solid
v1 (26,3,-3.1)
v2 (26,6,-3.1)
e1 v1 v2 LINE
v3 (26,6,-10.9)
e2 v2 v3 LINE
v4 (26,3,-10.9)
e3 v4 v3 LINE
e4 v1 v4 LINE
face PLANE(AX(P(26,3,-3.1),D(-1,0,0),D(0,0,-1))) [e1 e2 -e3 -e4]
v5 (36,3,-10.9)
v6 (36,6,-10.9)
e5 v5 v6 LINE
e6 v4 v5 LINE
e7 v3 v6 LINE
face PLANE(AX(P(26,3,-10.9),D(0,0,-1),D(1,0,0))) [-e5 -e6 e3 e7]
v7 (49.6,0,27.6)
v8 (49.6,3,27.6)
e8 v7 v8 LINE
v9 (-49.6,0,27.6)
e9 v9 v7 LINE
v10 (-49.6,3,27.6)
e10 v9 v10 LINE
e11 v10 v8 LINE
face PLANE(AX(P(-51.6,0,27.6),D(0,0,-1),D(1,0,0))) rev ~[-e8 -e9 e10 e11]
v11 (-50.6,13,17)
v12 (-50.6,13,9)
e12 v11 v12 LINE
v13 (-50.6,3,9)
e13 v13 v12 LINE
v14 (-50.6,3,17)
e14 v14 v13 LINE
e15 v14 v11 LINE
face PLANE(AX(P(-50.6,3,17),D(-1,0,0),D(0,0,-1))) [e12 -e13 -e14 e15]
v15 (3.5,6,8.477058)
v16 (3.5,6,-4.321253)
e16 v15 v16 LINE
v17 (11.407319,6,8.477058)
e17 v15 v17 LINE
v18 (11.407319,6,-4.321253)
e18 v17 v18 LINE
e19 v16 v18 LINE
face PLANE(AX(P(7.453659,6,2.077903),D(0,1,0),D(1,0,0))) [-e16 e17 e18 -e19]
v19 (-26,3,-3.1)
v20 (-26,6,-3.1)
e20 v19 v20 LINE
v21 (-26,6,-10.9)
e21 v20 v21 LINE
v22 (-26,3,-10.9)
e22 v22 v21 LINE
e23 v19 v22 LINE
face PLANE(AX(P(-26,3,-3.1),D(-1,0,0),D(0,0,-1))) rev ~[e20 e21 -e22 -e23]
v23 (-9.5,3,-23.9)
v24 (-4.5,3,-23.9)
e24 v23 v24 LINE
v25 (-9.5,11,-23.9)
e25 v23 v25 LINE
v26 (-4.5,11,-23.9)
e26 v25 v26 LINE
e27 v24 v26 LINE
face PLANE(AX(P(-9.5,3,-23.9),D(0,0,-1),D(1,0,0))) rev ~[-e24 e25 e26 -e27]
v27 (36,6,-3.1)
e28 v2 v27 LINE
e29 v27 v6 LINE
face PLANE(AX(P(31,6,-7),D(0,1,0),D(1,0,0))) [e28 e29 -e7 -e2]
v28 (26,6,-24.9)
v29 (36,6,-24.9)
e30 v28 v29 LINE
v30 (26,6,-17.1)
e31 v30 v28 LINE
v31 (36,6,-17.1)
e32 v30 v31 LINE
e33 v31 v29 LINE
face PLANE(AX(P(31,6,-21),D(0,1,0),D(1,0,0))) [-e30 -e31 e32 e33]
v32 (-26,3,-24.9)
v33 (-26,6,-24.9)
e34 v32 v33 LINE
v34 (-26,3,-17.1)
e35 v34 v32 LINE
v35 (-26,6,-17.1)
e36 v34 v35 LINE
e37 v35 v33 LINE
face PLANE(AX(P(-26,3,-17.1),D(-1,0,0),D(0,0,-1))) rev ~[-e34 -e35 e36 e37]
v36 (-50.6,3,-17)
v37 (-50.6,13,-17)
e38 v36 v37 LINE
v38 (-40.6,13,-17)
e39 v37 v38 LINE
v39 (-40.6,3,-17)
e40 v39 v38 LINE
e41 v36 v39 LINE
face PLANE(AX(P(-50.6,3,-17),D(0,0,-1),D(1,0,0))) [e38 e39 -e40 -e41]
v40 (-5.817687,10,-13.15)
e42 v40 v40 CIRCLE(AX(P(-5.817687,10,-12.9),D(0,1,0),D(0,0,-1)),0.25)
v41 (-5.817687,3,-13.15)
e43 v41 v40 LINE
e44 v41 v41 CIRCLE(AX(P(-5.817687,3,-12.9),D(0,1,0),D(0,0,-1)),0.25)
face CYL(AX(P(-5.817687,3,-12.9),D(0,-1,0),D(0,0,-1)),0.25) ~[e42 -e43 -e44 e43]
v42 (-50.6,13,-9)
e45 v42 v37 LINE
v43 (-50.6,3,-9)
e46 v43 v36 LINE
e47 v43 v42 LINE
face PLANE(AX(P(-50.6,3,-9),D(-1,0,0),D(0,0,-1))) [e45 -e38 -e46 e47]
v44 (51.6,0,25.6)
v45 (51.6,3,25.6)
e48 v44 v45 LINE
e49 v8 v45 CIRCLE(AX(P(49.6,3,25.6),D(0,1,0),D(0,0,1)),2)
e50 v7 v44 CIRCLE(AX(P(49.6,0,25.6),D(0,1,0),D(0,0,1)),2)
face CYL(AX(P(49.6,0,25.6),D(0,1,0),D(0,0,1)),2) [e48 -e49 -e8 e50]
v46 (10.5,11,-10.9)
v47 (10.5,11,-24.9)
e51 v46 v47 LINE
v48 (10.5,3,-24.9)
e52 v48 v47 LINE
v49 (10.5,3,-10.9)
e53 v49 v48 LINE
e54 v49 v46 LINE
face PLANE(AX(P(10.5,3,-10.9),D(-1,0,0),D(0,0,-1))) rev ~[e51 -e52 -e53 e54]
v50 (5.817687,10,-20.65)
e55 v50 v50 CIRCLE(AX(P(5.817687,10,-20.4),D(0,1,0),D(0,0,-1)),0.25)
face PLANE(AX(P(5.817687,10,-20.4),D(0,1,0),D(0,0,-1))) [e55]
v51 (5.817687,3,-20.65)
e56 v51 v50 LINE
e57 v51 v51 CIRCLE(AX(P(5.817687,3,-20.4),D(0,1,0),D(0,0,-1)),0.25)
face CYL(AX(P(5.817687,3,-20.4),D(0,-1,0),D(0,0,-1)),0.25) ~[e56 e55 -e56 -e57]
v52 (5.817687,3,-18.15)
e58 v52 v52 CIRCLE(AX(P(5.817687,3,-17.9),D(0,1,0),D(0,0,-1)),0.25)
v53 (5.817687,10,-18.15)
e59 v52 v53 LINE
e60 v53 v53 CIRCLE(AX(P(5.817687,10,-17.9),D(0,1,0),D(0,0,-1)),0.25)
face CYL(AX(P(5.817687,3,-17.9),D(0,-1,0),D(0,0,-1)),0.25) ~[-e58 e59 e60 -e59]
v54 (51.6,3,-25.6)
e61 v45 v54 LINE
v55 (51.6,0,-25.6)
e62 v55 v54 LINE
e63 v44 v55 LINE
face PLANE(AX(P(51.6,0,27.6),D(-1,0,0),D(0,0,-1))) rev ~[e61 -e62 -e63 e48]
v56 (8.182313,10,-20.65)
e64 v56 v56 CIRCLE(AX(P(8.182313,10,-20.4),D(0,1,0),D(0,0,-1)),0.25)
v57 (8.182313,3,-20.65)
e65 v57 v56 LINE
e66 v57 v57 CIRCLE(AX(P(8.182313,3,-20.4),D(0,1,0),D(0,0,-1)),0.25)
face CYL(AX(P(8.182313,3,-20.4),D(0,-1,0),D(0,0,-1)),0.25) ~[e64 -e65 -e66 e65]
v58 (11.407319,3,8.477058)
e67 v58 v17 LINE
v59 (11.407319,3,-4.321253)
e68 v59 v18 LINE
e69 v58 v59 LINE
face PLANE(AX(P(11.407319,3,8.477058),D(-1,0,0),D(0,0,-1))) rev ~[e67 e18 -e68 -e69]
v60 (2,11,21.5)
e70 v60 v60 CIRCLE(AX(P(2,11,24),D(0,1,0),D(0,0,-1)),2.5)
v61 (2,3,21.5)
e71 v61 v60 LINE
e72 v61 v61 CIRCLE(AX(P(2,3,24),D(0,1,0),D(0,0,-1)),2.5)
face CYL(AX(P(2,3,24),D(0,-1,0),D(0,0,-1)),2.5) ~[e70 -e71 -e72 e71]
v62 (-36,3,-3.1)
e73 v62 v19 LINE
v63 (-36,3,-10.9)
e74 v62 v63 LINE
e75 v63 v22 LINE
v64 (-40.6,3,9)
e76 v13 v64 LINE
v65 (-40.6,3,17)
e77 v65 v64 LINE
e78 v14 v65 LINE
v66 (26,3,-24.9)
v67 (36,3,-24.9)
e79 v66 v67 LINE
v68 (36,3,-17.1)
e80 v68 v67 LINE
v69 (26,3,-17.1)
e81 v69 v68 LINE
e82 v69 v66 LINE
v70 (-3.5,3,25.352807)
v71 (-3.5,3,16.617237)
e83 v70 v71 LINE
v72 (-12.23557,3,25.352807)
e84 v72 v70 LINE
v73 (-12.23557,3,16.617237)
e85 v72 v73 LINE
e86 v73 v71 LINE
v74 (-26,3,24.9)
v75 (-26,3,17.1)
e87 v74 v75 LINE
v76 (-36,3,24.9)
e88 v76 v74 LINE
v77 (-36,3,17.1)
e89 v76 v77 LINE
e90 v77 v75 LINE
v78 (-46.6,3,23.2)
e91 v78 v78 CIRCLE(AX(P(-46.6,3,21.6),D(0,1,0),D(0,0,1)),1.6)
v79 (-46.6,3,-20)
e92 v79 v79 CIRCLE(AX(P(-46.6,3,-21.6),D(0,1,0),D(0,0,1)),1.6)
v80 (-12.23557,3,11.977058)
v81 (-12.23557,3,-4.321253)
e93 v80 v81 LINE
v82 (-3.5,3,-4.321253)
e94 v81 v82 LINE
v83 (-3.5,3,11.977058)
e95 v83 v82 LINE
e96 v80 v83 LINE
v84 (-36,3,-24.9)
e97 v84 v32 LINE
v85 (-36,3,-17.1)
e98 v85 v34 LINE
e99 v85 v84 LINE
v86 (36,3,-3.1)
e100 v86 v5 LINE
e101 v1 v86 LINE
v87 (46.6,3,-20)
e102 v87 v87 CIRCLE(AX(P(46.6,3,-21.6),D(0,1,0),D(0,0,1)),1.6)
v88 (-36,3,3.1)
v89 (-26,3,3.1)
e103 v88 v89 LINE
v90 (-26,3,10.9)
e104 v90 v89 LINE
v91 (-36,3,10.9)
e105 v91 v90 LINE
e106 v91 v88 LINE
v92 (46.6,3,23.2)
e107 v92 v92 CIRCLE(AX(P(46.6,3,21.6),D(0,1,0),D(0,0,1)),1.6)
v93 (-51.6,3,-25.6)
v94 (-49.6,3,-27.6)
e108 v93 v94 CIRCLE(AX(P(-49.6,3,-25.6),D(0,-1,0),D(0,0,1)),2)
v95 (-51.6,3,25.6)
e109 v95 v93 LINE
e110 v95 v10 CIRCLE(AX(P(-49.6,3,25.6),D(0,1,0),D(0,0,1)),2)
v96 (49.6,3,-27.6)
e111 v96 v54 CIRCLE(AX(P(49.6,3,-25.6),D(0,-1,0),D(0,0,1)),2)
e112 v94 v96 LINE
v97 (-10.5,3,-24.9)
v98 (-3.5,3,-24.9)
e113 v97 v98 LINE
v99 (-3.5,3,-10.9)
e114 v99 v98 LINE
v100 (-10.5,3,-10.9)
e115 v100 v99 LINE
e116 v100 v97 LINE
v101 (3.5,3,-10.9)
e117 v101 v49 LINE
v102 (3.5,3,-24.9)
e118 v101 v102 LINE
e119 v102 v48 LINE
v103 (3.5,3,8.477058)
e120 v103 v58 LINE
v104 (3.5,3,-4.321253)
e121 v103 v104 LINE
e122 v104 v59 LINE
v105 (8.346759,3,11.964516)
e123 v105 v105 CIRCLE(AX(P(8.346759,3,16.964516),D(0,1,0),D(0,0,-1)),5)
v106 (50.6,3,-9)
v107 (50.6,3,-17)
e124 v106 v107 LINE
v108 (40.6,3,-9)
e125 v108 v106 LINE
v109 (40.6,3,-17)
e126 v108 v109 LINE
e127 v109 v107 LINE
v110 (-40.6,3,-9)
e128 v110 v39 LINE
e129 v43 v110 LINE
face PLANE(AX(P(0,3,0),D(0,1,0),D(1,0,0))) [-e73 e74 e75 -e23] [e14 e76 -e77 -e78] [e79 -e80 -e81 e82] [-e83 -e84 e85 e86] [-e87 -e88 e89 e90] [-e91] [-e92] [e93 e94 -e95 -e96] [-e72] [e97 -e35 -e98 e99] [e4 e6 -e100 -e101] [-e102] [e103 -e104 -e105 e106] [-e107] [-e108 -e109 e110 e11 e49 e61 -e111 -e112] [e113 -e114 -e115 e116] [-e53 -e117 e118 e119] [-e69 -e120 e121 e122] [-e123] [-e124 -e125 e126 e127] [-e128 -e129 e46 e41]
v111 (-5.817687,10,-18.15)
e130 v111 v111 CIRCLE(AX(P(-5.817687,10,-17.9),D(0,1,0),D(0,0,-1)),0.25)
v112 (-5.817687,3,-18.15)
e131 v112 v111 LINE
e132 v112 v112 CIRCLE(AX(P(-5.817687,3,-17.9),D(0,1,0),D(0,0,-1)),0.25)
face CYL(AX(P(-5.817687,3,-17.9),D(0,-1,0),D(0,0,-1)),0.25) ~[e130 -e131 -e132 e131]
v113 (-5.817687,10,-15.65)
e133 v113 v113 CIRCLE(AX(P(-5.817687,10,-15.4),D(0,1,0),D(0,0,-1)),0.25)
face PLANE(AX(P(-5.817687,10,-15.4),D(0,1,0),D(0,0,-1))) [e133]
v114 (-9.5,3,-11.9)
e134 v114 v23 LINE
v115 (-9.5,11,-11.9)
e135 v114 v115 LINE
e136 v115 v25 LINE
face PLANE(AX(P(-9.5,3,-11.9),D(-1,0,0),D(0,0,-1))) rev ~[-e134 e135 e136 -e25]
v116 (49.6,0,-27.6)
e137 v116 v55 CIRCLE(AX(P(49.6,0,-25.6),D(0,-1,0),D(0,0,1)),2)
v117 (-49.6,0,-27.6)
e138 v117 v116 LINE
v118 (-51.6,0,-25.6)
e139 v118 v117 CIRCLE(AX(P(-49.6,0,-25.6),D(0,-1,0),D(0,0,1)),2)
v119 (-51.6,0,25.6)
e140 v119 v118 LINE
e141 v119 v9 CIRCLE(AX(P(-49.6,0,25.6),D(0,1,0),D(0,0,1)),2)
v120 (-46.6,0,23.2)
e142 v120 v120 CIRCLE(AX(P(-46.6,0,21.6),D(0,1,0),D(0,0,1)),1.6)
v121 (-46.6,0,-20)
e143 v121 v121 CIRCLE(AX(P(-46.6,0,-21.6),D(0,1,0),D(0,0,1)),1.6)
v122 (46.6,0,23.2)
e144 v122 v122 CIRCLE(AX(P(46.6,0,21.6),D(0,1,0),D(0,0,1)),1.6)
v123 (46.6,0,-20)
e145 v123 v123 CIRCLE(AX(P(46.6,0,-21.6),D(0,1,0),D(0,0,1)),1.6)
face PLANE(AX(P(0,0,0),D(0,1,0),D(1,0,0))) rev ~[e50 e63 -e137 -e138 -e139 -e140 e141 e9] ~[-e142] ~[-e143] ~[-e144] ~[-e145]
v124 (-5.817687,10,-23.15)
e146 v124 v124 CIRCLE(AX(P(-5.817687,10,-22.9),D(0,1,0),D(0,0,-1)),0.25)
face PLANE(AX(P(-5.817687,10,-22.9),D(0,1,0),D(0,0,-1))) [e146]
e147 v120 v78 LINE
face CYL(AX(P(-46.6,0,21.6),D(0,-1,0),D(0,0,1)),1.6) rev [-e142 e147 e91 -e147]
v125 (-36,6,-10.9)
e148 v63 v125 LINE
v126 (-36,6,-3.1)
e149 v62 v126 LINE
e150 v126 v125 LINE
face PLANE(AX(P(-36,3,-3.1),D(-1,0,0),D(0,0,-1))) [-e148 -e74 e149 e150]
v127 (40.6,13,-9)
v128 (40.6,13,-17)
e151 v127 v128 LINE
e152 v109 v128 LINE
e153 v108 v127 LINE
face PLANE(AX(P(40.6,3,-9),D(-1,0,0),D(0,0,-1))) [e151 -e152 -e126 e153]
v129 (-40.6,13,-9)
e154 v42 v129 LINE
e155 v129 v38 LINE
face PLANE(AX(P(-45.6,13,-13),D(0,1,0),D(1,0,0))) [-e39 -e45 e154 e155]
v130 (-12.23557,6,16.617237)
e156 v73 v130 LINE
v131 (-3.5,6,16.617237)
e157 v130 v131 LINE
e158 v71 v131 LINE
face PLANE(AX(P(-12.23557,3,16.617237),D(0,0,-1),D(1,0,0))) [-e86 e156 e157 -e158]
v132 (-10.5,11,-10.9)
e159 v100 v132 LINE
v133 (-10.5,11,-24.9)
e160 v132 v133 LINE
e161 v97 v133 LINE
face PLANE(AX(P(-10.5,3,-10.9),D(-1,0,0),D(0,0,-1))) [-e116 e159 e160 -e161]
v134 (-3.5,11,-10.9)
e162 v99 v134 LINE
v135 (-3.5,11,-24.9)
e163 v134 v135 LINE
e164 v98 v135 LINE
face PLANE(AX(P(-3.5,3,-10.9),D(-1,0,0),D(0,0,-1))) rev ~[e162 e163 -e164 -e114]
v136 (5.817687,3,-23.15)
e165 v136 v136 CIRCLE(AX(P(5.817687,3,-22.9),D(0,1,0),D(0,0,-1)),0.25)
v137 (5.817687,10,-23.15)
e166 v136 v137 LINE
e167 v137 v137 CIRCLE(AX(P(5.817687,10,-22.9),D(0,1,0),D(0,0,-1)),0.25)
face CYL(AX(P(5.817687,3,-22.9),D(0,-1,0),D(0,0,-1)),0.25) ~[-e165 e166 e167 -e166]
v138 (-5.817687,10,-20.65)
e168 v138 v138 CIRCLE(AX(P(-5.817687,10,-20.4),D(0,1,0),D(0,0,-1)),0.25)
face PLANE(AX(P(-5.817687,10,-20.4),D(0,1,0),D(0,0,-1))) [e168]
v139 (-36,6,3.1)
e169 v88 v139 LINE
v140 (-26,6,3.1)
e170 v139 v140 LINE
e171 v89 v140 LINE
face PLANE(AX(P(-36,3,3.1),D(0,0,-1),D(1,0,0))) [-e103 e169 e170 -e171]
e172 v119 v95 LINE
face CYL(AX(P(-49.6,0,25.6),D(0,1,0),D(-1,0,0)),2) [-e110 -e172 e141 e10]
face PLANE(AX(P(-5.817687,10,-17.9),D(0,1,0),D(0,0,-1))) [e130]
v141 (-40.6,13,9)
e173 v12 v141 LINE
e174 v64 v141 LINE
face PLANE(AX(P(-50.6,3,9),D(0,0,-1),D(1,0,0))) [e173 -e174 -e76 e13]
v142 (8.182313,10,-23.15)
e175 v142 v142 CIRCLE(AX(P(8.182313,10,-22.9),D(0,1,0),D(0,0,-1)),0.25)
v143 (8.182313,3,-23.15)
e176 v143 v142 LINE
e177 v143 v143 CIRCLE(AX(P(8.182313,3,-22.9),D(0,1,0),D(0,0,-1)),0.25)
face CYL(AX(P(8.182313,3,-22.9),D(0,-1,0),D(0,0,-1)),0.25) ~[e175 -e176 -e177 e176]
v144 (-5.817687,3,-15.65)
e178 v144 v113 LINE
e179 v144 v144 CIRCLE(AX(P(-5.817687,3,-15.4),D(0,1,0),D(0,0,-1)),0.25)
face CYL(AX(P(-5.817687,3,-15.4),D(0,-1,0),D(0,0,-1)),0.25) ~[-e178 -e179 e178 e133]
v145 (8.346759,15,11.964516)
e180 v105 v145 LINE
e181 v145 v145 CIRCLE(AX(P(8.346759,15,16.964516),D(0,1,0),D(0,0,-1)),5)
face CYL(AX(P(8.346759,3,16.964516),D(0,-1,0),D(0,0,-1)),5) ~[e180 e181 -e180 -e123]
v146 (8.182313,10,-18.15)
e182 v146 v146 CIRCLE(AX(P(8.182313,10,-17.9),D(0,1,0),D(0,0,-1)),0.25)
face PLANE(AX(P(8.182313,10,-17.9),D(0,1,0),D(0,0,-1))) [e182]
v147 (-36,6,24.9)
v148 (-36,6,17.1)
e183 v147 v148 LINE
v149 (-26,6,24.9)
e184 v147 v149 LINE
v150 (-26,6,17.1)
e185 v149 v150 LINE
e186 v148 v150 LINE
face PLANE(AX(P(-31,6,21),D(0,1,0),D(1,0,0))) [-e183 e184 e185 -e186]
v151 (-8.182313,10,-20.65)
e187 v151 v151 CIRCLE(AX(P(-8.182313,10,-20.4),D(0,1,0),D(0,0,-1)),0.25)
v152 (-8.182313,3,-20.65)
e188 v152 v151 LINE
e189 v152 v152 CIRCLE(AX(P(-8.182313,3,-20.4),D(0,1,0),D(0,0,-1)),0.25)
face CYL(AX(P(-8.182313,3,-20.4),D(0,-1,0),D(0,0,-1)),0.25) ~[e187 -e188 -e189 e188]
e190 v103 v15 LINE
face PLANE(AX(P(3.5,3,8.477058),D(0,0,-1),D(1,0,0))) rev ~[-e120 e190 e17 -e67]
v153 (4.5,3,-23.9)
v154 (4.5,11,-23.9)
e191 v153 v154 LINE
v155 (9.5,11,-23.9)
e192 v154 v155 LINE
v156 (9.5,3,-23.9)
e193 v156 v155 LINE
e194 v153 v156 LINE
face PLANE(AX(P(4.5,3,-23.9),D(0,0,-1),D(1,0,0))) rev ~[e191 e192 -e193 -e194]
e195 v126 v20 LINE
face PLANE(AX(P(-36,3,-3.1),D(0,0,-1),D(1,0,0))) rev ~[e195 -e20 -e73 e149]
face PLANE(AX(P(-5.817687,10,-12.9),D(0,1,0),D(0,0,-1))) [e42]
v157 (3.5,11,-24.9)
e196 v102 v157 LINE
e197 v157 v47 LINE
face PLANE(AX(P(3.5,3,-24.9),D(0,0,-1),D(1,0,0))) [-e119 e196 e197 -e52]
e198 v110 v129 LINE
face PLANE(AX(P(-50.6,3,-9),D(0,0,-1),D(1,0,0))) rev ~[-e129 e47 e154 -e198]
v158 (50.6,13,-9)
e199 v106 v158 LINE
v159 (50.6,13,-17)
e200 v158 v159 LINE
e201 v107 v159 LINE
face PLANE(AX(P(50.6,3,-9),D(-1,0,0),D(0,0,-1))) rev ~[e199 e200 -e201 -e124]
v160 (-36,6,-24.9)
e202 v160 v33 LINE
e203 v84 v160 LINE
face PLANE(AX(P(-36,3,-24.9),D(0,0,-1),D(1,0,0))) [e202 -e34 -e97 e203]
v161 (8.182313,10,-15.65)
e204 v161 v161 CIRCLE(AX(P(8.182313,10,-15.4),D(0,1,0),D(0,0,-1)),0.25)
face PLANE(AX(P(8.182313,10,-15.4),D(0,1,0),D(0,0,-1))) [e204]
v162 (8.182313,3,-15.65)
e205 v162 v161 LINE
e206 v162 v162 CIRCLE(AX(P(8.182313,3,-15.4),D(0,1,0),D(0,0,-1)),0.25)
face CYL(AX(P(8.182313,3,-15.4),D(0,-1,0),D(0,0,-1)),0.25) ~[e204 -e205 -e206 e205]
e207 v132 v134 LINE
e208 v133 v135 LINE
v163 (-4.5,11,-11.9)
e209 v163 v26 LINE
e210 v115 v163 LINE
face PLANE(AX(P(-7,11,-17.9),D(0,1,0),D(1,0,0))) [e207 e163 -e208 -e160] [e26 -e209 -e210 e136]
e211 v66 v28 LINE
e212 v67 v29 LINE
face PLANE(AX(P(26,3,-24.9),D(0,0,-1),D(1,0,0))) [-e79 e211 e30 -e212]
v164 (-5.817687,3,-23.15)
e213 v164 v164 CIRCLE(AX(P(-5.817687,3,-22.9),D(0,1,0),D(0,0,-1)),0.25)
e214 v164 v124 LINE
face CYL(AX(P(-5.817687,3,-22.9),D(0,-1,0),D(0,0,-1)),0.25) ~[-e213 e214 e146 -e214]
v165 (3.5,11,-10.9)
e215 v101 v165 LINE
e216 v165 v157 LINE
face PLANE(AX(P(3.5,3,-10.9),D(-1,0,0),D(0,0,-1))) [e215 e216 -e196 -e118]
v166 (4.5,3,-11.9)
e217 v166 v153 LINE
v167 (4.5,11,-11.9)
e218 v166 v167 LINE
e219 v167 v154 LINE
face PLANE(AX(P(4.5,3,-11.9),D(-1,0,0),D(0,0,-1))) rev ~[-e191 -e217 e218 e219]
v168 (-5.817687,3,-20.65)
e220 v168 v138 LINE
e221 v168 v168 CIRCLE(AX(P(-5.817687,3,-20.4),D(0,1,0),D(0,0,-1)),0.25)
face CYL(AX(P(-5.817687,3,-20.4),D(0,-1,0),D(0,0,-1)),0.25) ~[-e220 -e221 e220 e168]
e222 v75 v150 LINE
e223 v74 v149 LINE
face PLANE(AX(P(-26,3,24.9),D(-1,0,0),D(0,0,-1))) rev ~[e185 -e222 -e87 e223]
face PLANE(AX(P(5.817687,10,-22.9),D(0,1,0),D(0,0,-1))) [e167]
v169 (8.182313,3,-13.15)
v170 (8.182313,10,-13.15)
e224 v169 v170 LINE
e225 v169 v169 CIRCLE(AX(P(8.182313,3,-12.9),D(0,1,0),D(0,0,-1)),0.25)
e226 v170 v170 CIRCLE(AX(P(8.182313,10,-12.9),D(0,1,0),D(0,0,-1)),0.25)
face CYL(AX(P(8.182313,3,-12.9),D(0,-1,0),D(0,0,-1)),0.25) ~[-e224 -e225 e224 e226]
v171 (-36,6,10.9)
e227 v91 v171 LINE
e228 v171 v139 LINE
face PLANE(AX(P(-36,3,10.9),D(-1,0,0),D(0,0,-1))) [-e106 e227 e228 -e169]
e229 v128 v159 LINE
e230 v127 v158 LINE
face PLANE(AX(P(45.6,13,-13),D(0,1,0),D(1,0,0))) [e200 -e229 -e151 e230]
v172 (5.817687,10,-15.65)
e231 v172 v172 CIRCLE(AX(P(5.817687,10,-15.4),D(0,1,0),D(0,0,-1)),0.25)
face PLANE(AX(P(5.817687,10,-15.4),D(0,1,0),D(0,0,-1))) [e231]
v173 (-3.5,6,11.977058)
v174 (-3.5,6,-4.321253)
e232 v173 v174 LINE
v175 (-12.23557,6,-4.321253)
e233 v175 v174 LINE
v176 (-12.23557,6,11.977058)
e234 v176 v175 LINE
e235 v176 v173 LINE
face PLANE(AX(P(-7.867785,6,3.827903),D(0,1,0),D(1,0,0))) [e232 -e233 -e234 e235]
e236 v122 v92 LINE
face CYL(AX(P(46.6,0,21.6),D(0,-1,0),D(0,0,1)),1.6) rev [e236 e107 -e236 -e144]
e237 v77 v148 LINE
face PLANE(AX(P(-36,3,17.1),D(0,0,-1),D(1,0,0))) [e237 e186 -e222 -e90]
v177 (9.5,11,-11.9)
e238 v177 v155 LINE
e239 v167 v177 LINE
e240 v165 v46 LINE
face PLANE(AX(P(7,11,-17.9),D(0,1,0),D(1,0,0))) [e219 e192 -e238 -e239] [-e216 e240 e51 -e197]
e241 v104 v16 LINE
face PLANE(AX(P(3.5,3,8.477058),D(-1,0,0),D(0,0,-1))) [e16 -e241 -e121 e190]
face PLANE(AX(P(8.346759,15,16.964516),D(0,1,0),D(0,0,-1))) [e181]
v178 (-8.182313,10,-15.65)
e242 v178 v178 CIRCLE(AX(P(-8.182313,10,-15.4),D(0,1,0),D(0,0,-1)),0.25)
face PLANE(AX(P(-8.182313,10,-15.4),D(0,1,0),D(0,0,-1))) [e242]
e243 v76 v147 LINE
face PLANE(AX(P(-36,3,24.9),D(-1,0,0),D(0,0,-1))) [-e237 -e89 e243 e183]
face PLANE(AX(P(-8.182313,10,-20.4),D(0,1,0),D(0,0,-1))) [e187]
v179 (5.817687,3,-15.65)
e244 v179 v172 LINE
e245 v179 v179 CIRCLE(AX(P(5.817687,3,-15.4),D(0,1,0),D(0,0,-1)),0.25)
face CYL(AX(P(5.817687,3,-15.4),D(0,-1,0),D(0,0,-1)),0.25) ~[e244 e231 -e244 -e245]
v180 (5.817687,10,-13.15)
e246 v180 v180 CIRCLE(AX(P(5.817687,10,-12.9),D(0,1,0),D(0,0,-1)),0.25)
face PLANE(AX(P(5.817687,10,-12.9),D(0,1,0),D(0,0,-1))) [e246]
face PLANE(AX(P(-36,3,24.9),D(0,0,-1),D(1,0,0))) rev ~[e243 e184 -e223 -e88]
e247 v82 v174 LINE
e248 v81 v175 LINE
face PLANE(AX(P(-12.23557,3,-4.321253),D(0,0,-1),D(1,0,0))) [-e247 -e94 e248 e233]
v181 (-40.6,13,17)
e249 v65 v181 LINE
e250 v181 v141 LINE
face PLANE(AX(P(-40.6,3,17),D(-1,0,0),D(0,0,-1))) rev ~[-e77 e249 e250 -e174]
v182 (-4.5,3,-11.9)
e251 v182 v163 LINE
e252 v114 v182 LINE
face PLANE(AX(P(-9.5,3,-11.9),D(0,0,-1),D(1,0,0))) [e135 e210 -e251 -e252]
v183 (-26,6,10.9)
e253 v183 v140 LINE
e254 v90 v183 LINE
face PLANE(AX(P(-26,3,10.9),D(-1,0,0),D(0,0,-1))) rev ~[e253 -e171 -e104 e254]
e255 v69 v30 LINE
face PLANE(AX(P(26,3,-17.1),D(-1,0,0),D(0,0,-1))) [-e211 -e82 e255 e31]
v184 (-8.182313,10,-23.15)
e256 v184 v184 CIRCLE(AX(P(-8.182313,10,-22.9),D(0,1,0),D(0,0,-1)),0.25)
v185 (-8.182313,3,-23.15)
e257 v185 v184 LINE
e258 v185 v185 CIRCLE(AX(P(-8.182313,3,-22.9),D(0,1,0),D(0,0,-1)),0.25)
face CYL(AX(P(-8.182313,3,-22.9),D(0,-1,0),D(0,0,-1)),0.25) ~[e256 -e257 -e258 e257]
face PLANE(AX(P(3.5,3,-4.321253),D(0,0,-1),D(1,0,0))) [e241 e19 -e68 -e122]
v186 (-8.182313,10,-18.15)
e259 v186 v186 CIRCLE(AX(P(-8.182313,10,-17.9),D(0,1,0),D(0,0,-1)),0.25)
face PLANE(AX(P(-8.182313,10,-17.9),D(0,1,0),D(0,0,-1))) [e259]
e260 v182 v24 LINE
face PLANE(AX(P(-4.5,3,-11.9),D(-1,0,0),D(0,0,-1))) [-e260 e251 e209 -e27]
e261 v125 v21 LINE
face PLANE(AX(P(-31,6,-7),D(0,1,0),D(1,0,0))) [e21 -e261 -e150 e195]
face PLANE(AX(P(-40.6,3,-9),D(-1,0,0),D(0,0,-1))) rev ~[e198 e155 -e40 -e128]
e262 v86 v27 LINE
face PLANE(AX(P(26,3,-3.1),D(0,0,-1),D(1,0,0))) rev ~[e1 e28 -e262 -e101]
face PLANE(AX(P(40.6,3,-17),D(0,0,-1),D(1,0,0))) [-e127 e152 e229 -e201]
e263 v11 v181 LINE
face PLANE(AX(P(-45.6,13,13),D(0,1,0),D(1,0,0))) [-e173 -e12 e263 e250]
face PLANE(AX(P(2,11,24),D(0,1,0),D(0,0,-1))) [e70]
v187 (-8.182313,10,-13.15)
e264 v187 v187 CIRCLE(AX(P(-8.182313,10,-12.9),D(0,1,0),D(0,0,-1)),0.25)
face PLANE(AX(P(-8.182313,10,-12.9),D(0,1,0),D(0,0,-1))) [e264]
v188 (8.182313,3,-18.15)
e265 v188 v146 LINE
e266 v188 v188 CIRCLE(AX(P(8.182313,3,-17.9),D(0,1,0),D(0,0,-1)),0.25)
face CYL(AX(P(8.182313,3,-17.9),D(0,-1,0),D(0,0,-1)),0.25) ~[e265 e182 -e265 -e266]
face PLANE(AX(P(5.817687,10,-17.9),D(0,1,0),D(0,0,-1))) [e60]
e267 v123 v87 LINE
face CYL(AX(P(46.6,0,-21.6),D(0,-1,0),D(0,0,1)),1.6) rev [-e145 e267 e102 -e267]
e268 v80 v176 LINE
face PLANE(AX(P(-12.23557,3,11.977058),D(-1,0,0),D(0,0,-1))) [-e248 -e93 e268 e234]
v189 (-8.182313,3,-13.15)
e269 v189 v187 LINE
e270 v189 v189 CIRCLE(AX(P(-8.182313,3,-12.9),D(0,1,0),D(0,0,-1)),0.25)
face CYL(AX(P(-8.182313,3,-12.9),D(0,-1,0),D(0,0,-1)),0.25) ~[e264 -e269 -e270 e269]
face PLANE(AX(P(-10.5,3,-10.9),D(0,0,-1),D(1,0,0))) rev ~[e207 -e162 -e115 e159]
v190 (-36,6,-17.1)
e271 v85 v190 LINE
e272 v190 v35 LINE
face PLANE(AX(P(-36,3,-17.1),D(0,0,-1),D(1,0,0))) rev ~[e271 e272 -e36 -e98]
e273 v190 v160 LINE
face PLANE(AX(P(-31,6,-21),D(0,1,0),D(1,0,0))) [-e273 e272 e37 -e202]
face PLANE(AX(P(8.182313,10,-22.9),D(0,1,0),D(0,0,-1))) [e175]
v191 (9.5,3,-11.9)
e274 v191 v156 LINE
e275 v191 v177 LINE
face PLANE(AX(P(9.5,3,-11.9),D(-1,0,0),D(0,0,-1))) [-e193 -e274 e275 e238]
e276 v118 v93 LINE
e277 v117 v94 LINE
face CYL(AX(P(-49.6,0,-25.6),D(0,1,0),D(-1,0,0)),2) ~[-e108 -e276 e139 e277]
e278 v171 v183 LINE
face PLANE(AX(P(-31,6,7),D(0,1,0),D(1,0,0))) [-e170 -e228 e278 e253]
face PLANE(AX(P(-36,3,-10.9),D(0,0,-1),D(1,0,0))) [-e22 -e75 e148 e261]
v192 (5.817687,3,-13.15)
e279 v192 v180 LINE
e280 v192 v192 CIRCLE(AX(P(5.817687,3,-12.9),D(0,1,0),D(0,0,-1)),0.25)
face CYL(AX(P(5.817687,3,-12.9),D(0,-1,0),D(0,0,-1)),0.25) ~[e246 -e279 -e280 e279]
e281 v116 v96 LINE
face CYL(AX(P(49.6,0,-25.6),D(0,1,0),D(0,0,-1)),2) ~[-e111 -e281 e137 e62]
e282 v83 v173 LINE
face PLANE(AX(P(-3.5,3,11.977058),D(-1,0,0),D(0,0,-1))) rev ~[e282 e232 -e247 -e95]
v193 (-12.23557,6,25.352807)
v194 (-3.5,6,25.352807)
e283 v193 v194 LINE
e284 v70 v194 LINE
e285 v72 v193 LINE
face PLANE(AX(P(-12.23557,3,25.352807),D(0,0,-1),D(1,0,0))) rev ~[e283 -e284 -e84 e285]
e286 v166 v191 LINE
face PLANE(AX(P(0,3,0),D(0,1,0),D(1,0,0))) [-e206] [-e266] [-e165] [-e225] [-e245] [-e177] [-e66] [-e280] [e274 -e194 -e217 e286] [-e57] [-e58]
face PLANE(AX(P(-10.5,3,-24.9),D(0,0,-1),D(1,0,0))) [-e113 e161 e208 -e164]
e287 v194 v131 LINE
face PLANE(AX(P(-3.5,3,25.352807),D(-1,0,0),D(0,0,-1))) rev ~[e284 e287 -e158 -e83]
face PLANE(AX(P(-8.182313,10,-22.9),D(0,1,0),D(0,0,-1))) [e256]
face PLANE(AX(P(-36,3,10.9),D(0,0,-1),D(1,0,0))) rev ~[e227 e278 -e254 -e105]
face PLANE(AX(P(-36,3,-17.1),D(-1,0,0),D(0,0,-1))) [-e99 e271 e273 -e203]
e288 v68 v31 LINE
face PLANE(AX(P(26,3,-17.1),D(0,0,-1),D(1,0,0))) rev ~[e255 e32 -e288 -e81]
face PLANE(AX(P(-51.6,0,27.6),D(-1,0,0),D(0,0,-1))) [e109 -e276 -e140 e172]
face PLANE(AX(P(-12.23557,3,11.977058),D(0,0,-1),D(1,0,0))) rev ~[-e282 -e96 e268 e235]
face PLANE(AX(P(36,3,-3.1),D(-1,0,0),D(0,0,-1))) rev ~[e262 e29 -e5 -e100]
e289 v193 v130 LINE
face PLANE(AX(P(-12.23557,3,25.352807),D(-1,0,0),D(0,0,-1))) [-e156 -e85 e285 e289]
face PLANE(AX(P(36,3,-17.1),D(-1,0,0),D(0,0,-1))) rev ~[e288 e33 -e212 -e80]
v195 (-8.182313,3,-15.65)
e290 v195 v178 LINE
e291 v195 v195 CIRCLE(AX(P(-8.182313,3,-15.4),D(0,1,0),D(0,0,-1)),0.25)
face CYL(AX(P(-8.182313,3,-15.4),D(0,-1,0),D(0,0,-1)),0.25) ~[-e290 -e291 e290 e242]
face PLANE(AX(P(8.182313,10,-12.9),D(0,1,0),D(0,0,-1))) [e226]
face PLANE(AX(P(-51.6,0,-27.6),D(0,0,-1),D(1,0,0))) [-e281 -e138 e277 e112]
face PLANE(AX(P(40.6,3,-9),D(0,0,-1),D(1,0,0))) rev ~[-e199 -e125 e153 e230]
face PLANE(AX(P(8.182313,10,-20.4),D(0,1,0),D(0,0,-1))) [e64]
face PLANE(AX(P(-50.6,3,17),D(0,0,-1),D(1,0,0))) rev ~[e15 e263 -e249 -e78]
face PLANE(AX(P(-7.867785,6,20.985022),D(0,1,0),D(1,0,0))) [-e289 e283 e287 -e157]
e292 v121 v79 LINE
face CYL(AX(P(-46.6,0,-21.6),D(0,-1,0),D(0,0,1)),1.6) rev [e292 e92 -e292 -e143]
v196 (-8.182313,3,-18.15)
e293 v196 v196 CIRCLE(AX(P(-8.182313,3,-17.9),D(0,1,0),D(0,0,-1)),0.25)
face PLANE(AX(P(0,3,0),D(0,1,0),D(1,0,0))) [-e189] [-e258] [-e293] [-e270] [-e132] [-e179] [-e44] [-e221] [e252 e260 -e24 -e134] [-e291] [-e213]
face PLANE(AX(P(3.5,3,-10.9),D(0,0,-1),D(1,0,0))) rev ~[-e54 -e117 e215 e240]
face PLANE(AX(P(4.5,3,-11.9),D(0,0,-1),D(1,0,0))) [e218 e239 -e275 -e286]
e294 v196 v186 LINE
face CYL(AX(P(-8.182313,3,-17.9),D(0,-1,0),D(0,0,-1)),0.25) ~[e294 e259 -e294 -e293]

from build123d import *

# Parameters (mm, degrees)
SKETCH_1_W          = 103.2
SKETCH_1_H          = 55.2
SKETCH_1_R          = 1.6
EXTRUDE_1_DEPTH     = 3
FILLET_1_R          = 2
SKETCH_2_W          = 10
SKETCH_2_H          = 8
EXTRUDE_2_DEPTH     = 10
SKETCH_3_W          = 10
SKETCH_3_H          = 7.8
SKETCH_3_W_2        = 7.907318886
SKETCH_3_H_2        = 12.798311125
SKETCH_3_W_3        = 8.73556964
SKETCH_3_H_3        = 16.298311125
SKETCH_3_H_4        = 8.73556964
EXTRUDE_3_DEPTH     = 3
SKETCH_4_R          = 2.5
SKETCH_4_W          = 7
SKETCH_4_H          = 14
SKETCH_4_W_2        = 5
SKETCH_4_H_2        = 12
EXTRUDE_4_DEPTH     = 8
SKETCH_5_R          = 0.25
EXTRUDE_5_DEPTH     = 7
SKETCH_6_R          = 5
EXTRUDE_6_DEPTH     = 12
SKETCH_7_W          = 36.530578683
SKETCH_7_H          = 32.729234011
CUT_EXTRUDE_1_DEPTH = 60.73541663


with BuildPart() as part:
    # 草图1 → 凸台-拉伸1 (new body)
    with BuildSketch(Plane(origin=(0, 0, 0), x_dir=(1, 0, 0), z_dir=(0, 1, 0))):
        Rectangle(SKETCH_1_W, SKETCH_1_H)
        with Locations(Location((-46.6, 21.6, 0), (0, 0, 270))):
            Circle(SKETCH_1_R, mode=Mode.SUBTRACT)
        with Locations(Location((46.6, 21.6, 0), (0, 0, 270))):
            Circle(SKETCH_1_R, mode=Mode.SUBTRACT)
        with Locations(Location((46.6, -21.6, 0), (0, 0, 270))):
            Circle(SKETCH_1_R, mode=Mode.SUBTRACT)
        with Locations(Location((-46.6, -21.6, 0), (0, 0, 270))):
            Circle(SKETCH_1_R, mode=Mode.SUBTRACT)
    extrude(amount=EXTRUDE_1_DEPTH)

    # 圆角1
    fillet_1_edges = [part.edges().sort_by_distance(p)[0] for p in [
        (51.6, 1.5, 27.6),
        (-51.6, 1.5, 27.6),
        (-51.6, 1.5, -27.6),
        (51.6, 1.5, -27.6),
    ]]
    fillet(fillet_1_edges, radius=FILLET_1_R)

    # 草图2 → 凸台-拉伸2 (add)
    with BuildSketch(Plane(origin=(0, 3, 0), x_dir=(1, 0, 0), z_dir=(0, 1, 0))):
        with Locations((-45.6, 13)):
            Rectangle(SKETCH_2_W, SKETCH_2_H)
        with Locations((45.6, 13)):
            Rectangle(SKETCH_2_W, SKETCH_2_H)
        with Locations((45.6, -13)):
            Rectangle(SKETCH_2_W, SKETCH_2_H)
        with Locations((-45.6, -13)):
            Rectangle(SKETCH_2_W, SKETCH_2_H)
    extrude(amount=EXTRUDE_2_DEPTH)

    # 草图3 → 凸台-拉伸3 (add)
    with BuildSketch(Plane(origin=(0, 3, 0), x_dir=(1, 0, 0), z_dir=(0, 1, 0))):
        with Locations((31, 21)):
            Rectangle(SKETCH_3_W, SKETCH_3_H)
        with Locations((-31, 21)):
            Rectangle(SKETCH_3_W, SKETCH_3_H)
        with Locations((31, 7)):
            Rectangle(SKETCH_3_W, SKETCH_3_H)
        with Locations((31, -7)):
            Rectangle(SKETCH_3_W, SKETCH_3_H)
        with Locations((31, -21)):
            Rectangle(SKETCH_3_W, SKETCH_3_H)
        with Locations((-31, 7)):
            Rectangle(SKETCH_3_W, SKETCH_3_H)
        with Locations((-31, -7)):
            Rectangle(SKETCH_3_W, SKETCH_3_H)
        with Locations((-31, -21)):
            Rectangle(SKETCH_3_W, SKETCH_3_H)
        with Locations((7.453659443, -2.077902605)):
            Rectangle(SKETCH_3_W_2, SKETCH_3_H_2)
        with Locations((-7.86778482, -3.827902605)):
            Rectangle(SKETCH_3_W_3, SKETCH_3_H_3)
        with Locations((-7.86778482, -20.98502184)):
            Rectangle(SKETCH_3_W_3, SKETCH_3_H_4)
    extrude(amount=EXTRUDE_3_DEPTH)

    # 草图4 → 凸台-拉伸4 (add)
    # profile 1 of 3: a face of its own
    with BuildSketch(Plane(origin=(0, 3, 0), x_dir=(1, 0, 0), z_dir=(0, 1, 0))):
        with Locations(Location((2, -24, 0), (0, 0, 90))):
            Circle(SKETCH_4_R)
    # profile 2 of 3: a face of its own
    with BuildSketch(Plane(origin=(0, 3, 0), x_dir=(1, 0, 0), z_dir=(0, 1, 0))):
        with Locations((-7, 17.9)):
            Rectangle(SKETCH_4_W, SKETCH_4_H)
        with Locations((-7, 17.9)):
            Rectangle(SKETCH_4_W_2, SKETCH_4_H_2, mode=Mode.SUBTRACT)
    # profile 3 of 3: a face of its own
    with BuildSketch(Plane(origin=(0, 3, 0), x_dir=(1, 0, 0), z_dir=(0, 1, 0))):
        with Locations((7, 17.9)):
            Rectangle(SKETCH_4_W, SKETCH_4_H)
        with Locations((7, 17.9)):
            Rectangle(SKETCH_4_W_2, SKETCH_4_H_2, mode=Mode.SUBTRACT)
    extrude(amount=EXTRUDE_4_DEPTH)

    # 草图5 → 凸台-拉伸5 (add)
    with BuildSketch(Plane(origin=(0, 3, 0), x_dir=(1, 0, 0), z_dir=(0, 1, 0))):
        with Locations(Location((-8.182313365, 22.9, 0), (0, 0, 90))):
            Circle(SKETCH_5_R)
        with Locations(Location((-5.817686635, 22.9, 0), (0, 0, 90))):
            Circle(SKETCH_5_R)
        with Locations(Location((-8.182313365, 20.4, 0), (0, 0, 90))):
            Circle(SKETCH_5_R)
        with Locations(Location((-5.817686635, 20.4, 0), (0, 0, 90))):
            Circle(SKETCH_5_R)
        with Locations(Location((-8.182313365, 17.9, 0), (0, 0, 90))):
            Circle(SKETCH_5_R)
        with Locations(Location((-5.817686635, 17.9, 0), (0, 0, 90))):
            Circle(SKETCH_5_R)
        with Locations(Location((-8.182313365, 15.4, 0), (0, 0, 90))):
            Circle(SKETCH_5_R)
        with Locations(Location((-5.817686635, 15.4, 0), (0, 0, 90))):
            Circle(SKETCH_5_R)
        with Locations(Location((-8.182313365, 12.9, 0), (0, 0, 90))):
            Circle(SKETCH_5_R)
        with Locations(Location((-5.817686635, 12.9, 0), (0, 0, 90))):
            Circle(SKETCH_5_R)
        with Locations(Location((5.817686635, 12.9, 0), (0, 0, 90))):
            Circle(SKETCH_5_R)
        with Locations(Location((8.182313365, 12.9, 0), (0, 0, 90))):
            Circle(SKETCH_5_R)
        with Locations(Location((5.817686635, 15.4, 0), (0, 0, 90))):
            Circle(SKETCH_5_R)
        with Locations(Location((8.182313365, 15.4, 0), (0, 0, 90))):
            Circle(SKETCH_5_R)
        with Locations(Location((5.817686635, 17.9, 0), (0, 0, 90))):
            Circle(SKETCH_5_R)
        with Locations(Location((8.182313365, 17.9, 0), (0, 0, 90))):
            Circle(SKETCH_5_R)
        with Locations(Location((5.817686635, 20.4, 0), (0, 0, 90))):
            Circle(SKETCH_5_R)
        with Locations(Location((8.182313365, 20.4, 0), (0, 0, 90))):
            Circle(SKETCH_5_R)
        with Locations(Location((8.182313365, 22.9, 0), (0, 0, 90))):
            Circle(SKETCH_5_R)
        with Locations(Location((5.817686635, 22.9, 0), (0, 0, 90))):
            Circle(SKETCH_5_R)
    extrude(amount=EXTRUDE_5_DEPTH)

    # 草图6 → 凸台-拉伸6 (add)
    with BuildSketch(Plane(origin=(0, 3, 0), x_dir=(1, 0, 0), z_dir=(0, 1, 0))):
        with Locations(Location((8.346758727, -16.964516113, 0), (0, 0, 90))):
            Circle(SKETCH_6_R)
    extrude(amount=EXTRUDE_6_DEPTH)

    # 草图7 → 切除-拉伸1 (cut, through all)
    with BuildSketch(Plane(origin=(0, 3, 0), x_dir=(1, 0, 0), z_dir=(0, 1, 0))):
        with Locations((40.691092522, -17.246006906)):
            Rectangle(SKETCH_7_W, SKETCH_7_H)
    extrude(amount=CUT_EXTRUDE_1_DEPTH, mode=Mode.SUBTRACT)


solid = part.part
